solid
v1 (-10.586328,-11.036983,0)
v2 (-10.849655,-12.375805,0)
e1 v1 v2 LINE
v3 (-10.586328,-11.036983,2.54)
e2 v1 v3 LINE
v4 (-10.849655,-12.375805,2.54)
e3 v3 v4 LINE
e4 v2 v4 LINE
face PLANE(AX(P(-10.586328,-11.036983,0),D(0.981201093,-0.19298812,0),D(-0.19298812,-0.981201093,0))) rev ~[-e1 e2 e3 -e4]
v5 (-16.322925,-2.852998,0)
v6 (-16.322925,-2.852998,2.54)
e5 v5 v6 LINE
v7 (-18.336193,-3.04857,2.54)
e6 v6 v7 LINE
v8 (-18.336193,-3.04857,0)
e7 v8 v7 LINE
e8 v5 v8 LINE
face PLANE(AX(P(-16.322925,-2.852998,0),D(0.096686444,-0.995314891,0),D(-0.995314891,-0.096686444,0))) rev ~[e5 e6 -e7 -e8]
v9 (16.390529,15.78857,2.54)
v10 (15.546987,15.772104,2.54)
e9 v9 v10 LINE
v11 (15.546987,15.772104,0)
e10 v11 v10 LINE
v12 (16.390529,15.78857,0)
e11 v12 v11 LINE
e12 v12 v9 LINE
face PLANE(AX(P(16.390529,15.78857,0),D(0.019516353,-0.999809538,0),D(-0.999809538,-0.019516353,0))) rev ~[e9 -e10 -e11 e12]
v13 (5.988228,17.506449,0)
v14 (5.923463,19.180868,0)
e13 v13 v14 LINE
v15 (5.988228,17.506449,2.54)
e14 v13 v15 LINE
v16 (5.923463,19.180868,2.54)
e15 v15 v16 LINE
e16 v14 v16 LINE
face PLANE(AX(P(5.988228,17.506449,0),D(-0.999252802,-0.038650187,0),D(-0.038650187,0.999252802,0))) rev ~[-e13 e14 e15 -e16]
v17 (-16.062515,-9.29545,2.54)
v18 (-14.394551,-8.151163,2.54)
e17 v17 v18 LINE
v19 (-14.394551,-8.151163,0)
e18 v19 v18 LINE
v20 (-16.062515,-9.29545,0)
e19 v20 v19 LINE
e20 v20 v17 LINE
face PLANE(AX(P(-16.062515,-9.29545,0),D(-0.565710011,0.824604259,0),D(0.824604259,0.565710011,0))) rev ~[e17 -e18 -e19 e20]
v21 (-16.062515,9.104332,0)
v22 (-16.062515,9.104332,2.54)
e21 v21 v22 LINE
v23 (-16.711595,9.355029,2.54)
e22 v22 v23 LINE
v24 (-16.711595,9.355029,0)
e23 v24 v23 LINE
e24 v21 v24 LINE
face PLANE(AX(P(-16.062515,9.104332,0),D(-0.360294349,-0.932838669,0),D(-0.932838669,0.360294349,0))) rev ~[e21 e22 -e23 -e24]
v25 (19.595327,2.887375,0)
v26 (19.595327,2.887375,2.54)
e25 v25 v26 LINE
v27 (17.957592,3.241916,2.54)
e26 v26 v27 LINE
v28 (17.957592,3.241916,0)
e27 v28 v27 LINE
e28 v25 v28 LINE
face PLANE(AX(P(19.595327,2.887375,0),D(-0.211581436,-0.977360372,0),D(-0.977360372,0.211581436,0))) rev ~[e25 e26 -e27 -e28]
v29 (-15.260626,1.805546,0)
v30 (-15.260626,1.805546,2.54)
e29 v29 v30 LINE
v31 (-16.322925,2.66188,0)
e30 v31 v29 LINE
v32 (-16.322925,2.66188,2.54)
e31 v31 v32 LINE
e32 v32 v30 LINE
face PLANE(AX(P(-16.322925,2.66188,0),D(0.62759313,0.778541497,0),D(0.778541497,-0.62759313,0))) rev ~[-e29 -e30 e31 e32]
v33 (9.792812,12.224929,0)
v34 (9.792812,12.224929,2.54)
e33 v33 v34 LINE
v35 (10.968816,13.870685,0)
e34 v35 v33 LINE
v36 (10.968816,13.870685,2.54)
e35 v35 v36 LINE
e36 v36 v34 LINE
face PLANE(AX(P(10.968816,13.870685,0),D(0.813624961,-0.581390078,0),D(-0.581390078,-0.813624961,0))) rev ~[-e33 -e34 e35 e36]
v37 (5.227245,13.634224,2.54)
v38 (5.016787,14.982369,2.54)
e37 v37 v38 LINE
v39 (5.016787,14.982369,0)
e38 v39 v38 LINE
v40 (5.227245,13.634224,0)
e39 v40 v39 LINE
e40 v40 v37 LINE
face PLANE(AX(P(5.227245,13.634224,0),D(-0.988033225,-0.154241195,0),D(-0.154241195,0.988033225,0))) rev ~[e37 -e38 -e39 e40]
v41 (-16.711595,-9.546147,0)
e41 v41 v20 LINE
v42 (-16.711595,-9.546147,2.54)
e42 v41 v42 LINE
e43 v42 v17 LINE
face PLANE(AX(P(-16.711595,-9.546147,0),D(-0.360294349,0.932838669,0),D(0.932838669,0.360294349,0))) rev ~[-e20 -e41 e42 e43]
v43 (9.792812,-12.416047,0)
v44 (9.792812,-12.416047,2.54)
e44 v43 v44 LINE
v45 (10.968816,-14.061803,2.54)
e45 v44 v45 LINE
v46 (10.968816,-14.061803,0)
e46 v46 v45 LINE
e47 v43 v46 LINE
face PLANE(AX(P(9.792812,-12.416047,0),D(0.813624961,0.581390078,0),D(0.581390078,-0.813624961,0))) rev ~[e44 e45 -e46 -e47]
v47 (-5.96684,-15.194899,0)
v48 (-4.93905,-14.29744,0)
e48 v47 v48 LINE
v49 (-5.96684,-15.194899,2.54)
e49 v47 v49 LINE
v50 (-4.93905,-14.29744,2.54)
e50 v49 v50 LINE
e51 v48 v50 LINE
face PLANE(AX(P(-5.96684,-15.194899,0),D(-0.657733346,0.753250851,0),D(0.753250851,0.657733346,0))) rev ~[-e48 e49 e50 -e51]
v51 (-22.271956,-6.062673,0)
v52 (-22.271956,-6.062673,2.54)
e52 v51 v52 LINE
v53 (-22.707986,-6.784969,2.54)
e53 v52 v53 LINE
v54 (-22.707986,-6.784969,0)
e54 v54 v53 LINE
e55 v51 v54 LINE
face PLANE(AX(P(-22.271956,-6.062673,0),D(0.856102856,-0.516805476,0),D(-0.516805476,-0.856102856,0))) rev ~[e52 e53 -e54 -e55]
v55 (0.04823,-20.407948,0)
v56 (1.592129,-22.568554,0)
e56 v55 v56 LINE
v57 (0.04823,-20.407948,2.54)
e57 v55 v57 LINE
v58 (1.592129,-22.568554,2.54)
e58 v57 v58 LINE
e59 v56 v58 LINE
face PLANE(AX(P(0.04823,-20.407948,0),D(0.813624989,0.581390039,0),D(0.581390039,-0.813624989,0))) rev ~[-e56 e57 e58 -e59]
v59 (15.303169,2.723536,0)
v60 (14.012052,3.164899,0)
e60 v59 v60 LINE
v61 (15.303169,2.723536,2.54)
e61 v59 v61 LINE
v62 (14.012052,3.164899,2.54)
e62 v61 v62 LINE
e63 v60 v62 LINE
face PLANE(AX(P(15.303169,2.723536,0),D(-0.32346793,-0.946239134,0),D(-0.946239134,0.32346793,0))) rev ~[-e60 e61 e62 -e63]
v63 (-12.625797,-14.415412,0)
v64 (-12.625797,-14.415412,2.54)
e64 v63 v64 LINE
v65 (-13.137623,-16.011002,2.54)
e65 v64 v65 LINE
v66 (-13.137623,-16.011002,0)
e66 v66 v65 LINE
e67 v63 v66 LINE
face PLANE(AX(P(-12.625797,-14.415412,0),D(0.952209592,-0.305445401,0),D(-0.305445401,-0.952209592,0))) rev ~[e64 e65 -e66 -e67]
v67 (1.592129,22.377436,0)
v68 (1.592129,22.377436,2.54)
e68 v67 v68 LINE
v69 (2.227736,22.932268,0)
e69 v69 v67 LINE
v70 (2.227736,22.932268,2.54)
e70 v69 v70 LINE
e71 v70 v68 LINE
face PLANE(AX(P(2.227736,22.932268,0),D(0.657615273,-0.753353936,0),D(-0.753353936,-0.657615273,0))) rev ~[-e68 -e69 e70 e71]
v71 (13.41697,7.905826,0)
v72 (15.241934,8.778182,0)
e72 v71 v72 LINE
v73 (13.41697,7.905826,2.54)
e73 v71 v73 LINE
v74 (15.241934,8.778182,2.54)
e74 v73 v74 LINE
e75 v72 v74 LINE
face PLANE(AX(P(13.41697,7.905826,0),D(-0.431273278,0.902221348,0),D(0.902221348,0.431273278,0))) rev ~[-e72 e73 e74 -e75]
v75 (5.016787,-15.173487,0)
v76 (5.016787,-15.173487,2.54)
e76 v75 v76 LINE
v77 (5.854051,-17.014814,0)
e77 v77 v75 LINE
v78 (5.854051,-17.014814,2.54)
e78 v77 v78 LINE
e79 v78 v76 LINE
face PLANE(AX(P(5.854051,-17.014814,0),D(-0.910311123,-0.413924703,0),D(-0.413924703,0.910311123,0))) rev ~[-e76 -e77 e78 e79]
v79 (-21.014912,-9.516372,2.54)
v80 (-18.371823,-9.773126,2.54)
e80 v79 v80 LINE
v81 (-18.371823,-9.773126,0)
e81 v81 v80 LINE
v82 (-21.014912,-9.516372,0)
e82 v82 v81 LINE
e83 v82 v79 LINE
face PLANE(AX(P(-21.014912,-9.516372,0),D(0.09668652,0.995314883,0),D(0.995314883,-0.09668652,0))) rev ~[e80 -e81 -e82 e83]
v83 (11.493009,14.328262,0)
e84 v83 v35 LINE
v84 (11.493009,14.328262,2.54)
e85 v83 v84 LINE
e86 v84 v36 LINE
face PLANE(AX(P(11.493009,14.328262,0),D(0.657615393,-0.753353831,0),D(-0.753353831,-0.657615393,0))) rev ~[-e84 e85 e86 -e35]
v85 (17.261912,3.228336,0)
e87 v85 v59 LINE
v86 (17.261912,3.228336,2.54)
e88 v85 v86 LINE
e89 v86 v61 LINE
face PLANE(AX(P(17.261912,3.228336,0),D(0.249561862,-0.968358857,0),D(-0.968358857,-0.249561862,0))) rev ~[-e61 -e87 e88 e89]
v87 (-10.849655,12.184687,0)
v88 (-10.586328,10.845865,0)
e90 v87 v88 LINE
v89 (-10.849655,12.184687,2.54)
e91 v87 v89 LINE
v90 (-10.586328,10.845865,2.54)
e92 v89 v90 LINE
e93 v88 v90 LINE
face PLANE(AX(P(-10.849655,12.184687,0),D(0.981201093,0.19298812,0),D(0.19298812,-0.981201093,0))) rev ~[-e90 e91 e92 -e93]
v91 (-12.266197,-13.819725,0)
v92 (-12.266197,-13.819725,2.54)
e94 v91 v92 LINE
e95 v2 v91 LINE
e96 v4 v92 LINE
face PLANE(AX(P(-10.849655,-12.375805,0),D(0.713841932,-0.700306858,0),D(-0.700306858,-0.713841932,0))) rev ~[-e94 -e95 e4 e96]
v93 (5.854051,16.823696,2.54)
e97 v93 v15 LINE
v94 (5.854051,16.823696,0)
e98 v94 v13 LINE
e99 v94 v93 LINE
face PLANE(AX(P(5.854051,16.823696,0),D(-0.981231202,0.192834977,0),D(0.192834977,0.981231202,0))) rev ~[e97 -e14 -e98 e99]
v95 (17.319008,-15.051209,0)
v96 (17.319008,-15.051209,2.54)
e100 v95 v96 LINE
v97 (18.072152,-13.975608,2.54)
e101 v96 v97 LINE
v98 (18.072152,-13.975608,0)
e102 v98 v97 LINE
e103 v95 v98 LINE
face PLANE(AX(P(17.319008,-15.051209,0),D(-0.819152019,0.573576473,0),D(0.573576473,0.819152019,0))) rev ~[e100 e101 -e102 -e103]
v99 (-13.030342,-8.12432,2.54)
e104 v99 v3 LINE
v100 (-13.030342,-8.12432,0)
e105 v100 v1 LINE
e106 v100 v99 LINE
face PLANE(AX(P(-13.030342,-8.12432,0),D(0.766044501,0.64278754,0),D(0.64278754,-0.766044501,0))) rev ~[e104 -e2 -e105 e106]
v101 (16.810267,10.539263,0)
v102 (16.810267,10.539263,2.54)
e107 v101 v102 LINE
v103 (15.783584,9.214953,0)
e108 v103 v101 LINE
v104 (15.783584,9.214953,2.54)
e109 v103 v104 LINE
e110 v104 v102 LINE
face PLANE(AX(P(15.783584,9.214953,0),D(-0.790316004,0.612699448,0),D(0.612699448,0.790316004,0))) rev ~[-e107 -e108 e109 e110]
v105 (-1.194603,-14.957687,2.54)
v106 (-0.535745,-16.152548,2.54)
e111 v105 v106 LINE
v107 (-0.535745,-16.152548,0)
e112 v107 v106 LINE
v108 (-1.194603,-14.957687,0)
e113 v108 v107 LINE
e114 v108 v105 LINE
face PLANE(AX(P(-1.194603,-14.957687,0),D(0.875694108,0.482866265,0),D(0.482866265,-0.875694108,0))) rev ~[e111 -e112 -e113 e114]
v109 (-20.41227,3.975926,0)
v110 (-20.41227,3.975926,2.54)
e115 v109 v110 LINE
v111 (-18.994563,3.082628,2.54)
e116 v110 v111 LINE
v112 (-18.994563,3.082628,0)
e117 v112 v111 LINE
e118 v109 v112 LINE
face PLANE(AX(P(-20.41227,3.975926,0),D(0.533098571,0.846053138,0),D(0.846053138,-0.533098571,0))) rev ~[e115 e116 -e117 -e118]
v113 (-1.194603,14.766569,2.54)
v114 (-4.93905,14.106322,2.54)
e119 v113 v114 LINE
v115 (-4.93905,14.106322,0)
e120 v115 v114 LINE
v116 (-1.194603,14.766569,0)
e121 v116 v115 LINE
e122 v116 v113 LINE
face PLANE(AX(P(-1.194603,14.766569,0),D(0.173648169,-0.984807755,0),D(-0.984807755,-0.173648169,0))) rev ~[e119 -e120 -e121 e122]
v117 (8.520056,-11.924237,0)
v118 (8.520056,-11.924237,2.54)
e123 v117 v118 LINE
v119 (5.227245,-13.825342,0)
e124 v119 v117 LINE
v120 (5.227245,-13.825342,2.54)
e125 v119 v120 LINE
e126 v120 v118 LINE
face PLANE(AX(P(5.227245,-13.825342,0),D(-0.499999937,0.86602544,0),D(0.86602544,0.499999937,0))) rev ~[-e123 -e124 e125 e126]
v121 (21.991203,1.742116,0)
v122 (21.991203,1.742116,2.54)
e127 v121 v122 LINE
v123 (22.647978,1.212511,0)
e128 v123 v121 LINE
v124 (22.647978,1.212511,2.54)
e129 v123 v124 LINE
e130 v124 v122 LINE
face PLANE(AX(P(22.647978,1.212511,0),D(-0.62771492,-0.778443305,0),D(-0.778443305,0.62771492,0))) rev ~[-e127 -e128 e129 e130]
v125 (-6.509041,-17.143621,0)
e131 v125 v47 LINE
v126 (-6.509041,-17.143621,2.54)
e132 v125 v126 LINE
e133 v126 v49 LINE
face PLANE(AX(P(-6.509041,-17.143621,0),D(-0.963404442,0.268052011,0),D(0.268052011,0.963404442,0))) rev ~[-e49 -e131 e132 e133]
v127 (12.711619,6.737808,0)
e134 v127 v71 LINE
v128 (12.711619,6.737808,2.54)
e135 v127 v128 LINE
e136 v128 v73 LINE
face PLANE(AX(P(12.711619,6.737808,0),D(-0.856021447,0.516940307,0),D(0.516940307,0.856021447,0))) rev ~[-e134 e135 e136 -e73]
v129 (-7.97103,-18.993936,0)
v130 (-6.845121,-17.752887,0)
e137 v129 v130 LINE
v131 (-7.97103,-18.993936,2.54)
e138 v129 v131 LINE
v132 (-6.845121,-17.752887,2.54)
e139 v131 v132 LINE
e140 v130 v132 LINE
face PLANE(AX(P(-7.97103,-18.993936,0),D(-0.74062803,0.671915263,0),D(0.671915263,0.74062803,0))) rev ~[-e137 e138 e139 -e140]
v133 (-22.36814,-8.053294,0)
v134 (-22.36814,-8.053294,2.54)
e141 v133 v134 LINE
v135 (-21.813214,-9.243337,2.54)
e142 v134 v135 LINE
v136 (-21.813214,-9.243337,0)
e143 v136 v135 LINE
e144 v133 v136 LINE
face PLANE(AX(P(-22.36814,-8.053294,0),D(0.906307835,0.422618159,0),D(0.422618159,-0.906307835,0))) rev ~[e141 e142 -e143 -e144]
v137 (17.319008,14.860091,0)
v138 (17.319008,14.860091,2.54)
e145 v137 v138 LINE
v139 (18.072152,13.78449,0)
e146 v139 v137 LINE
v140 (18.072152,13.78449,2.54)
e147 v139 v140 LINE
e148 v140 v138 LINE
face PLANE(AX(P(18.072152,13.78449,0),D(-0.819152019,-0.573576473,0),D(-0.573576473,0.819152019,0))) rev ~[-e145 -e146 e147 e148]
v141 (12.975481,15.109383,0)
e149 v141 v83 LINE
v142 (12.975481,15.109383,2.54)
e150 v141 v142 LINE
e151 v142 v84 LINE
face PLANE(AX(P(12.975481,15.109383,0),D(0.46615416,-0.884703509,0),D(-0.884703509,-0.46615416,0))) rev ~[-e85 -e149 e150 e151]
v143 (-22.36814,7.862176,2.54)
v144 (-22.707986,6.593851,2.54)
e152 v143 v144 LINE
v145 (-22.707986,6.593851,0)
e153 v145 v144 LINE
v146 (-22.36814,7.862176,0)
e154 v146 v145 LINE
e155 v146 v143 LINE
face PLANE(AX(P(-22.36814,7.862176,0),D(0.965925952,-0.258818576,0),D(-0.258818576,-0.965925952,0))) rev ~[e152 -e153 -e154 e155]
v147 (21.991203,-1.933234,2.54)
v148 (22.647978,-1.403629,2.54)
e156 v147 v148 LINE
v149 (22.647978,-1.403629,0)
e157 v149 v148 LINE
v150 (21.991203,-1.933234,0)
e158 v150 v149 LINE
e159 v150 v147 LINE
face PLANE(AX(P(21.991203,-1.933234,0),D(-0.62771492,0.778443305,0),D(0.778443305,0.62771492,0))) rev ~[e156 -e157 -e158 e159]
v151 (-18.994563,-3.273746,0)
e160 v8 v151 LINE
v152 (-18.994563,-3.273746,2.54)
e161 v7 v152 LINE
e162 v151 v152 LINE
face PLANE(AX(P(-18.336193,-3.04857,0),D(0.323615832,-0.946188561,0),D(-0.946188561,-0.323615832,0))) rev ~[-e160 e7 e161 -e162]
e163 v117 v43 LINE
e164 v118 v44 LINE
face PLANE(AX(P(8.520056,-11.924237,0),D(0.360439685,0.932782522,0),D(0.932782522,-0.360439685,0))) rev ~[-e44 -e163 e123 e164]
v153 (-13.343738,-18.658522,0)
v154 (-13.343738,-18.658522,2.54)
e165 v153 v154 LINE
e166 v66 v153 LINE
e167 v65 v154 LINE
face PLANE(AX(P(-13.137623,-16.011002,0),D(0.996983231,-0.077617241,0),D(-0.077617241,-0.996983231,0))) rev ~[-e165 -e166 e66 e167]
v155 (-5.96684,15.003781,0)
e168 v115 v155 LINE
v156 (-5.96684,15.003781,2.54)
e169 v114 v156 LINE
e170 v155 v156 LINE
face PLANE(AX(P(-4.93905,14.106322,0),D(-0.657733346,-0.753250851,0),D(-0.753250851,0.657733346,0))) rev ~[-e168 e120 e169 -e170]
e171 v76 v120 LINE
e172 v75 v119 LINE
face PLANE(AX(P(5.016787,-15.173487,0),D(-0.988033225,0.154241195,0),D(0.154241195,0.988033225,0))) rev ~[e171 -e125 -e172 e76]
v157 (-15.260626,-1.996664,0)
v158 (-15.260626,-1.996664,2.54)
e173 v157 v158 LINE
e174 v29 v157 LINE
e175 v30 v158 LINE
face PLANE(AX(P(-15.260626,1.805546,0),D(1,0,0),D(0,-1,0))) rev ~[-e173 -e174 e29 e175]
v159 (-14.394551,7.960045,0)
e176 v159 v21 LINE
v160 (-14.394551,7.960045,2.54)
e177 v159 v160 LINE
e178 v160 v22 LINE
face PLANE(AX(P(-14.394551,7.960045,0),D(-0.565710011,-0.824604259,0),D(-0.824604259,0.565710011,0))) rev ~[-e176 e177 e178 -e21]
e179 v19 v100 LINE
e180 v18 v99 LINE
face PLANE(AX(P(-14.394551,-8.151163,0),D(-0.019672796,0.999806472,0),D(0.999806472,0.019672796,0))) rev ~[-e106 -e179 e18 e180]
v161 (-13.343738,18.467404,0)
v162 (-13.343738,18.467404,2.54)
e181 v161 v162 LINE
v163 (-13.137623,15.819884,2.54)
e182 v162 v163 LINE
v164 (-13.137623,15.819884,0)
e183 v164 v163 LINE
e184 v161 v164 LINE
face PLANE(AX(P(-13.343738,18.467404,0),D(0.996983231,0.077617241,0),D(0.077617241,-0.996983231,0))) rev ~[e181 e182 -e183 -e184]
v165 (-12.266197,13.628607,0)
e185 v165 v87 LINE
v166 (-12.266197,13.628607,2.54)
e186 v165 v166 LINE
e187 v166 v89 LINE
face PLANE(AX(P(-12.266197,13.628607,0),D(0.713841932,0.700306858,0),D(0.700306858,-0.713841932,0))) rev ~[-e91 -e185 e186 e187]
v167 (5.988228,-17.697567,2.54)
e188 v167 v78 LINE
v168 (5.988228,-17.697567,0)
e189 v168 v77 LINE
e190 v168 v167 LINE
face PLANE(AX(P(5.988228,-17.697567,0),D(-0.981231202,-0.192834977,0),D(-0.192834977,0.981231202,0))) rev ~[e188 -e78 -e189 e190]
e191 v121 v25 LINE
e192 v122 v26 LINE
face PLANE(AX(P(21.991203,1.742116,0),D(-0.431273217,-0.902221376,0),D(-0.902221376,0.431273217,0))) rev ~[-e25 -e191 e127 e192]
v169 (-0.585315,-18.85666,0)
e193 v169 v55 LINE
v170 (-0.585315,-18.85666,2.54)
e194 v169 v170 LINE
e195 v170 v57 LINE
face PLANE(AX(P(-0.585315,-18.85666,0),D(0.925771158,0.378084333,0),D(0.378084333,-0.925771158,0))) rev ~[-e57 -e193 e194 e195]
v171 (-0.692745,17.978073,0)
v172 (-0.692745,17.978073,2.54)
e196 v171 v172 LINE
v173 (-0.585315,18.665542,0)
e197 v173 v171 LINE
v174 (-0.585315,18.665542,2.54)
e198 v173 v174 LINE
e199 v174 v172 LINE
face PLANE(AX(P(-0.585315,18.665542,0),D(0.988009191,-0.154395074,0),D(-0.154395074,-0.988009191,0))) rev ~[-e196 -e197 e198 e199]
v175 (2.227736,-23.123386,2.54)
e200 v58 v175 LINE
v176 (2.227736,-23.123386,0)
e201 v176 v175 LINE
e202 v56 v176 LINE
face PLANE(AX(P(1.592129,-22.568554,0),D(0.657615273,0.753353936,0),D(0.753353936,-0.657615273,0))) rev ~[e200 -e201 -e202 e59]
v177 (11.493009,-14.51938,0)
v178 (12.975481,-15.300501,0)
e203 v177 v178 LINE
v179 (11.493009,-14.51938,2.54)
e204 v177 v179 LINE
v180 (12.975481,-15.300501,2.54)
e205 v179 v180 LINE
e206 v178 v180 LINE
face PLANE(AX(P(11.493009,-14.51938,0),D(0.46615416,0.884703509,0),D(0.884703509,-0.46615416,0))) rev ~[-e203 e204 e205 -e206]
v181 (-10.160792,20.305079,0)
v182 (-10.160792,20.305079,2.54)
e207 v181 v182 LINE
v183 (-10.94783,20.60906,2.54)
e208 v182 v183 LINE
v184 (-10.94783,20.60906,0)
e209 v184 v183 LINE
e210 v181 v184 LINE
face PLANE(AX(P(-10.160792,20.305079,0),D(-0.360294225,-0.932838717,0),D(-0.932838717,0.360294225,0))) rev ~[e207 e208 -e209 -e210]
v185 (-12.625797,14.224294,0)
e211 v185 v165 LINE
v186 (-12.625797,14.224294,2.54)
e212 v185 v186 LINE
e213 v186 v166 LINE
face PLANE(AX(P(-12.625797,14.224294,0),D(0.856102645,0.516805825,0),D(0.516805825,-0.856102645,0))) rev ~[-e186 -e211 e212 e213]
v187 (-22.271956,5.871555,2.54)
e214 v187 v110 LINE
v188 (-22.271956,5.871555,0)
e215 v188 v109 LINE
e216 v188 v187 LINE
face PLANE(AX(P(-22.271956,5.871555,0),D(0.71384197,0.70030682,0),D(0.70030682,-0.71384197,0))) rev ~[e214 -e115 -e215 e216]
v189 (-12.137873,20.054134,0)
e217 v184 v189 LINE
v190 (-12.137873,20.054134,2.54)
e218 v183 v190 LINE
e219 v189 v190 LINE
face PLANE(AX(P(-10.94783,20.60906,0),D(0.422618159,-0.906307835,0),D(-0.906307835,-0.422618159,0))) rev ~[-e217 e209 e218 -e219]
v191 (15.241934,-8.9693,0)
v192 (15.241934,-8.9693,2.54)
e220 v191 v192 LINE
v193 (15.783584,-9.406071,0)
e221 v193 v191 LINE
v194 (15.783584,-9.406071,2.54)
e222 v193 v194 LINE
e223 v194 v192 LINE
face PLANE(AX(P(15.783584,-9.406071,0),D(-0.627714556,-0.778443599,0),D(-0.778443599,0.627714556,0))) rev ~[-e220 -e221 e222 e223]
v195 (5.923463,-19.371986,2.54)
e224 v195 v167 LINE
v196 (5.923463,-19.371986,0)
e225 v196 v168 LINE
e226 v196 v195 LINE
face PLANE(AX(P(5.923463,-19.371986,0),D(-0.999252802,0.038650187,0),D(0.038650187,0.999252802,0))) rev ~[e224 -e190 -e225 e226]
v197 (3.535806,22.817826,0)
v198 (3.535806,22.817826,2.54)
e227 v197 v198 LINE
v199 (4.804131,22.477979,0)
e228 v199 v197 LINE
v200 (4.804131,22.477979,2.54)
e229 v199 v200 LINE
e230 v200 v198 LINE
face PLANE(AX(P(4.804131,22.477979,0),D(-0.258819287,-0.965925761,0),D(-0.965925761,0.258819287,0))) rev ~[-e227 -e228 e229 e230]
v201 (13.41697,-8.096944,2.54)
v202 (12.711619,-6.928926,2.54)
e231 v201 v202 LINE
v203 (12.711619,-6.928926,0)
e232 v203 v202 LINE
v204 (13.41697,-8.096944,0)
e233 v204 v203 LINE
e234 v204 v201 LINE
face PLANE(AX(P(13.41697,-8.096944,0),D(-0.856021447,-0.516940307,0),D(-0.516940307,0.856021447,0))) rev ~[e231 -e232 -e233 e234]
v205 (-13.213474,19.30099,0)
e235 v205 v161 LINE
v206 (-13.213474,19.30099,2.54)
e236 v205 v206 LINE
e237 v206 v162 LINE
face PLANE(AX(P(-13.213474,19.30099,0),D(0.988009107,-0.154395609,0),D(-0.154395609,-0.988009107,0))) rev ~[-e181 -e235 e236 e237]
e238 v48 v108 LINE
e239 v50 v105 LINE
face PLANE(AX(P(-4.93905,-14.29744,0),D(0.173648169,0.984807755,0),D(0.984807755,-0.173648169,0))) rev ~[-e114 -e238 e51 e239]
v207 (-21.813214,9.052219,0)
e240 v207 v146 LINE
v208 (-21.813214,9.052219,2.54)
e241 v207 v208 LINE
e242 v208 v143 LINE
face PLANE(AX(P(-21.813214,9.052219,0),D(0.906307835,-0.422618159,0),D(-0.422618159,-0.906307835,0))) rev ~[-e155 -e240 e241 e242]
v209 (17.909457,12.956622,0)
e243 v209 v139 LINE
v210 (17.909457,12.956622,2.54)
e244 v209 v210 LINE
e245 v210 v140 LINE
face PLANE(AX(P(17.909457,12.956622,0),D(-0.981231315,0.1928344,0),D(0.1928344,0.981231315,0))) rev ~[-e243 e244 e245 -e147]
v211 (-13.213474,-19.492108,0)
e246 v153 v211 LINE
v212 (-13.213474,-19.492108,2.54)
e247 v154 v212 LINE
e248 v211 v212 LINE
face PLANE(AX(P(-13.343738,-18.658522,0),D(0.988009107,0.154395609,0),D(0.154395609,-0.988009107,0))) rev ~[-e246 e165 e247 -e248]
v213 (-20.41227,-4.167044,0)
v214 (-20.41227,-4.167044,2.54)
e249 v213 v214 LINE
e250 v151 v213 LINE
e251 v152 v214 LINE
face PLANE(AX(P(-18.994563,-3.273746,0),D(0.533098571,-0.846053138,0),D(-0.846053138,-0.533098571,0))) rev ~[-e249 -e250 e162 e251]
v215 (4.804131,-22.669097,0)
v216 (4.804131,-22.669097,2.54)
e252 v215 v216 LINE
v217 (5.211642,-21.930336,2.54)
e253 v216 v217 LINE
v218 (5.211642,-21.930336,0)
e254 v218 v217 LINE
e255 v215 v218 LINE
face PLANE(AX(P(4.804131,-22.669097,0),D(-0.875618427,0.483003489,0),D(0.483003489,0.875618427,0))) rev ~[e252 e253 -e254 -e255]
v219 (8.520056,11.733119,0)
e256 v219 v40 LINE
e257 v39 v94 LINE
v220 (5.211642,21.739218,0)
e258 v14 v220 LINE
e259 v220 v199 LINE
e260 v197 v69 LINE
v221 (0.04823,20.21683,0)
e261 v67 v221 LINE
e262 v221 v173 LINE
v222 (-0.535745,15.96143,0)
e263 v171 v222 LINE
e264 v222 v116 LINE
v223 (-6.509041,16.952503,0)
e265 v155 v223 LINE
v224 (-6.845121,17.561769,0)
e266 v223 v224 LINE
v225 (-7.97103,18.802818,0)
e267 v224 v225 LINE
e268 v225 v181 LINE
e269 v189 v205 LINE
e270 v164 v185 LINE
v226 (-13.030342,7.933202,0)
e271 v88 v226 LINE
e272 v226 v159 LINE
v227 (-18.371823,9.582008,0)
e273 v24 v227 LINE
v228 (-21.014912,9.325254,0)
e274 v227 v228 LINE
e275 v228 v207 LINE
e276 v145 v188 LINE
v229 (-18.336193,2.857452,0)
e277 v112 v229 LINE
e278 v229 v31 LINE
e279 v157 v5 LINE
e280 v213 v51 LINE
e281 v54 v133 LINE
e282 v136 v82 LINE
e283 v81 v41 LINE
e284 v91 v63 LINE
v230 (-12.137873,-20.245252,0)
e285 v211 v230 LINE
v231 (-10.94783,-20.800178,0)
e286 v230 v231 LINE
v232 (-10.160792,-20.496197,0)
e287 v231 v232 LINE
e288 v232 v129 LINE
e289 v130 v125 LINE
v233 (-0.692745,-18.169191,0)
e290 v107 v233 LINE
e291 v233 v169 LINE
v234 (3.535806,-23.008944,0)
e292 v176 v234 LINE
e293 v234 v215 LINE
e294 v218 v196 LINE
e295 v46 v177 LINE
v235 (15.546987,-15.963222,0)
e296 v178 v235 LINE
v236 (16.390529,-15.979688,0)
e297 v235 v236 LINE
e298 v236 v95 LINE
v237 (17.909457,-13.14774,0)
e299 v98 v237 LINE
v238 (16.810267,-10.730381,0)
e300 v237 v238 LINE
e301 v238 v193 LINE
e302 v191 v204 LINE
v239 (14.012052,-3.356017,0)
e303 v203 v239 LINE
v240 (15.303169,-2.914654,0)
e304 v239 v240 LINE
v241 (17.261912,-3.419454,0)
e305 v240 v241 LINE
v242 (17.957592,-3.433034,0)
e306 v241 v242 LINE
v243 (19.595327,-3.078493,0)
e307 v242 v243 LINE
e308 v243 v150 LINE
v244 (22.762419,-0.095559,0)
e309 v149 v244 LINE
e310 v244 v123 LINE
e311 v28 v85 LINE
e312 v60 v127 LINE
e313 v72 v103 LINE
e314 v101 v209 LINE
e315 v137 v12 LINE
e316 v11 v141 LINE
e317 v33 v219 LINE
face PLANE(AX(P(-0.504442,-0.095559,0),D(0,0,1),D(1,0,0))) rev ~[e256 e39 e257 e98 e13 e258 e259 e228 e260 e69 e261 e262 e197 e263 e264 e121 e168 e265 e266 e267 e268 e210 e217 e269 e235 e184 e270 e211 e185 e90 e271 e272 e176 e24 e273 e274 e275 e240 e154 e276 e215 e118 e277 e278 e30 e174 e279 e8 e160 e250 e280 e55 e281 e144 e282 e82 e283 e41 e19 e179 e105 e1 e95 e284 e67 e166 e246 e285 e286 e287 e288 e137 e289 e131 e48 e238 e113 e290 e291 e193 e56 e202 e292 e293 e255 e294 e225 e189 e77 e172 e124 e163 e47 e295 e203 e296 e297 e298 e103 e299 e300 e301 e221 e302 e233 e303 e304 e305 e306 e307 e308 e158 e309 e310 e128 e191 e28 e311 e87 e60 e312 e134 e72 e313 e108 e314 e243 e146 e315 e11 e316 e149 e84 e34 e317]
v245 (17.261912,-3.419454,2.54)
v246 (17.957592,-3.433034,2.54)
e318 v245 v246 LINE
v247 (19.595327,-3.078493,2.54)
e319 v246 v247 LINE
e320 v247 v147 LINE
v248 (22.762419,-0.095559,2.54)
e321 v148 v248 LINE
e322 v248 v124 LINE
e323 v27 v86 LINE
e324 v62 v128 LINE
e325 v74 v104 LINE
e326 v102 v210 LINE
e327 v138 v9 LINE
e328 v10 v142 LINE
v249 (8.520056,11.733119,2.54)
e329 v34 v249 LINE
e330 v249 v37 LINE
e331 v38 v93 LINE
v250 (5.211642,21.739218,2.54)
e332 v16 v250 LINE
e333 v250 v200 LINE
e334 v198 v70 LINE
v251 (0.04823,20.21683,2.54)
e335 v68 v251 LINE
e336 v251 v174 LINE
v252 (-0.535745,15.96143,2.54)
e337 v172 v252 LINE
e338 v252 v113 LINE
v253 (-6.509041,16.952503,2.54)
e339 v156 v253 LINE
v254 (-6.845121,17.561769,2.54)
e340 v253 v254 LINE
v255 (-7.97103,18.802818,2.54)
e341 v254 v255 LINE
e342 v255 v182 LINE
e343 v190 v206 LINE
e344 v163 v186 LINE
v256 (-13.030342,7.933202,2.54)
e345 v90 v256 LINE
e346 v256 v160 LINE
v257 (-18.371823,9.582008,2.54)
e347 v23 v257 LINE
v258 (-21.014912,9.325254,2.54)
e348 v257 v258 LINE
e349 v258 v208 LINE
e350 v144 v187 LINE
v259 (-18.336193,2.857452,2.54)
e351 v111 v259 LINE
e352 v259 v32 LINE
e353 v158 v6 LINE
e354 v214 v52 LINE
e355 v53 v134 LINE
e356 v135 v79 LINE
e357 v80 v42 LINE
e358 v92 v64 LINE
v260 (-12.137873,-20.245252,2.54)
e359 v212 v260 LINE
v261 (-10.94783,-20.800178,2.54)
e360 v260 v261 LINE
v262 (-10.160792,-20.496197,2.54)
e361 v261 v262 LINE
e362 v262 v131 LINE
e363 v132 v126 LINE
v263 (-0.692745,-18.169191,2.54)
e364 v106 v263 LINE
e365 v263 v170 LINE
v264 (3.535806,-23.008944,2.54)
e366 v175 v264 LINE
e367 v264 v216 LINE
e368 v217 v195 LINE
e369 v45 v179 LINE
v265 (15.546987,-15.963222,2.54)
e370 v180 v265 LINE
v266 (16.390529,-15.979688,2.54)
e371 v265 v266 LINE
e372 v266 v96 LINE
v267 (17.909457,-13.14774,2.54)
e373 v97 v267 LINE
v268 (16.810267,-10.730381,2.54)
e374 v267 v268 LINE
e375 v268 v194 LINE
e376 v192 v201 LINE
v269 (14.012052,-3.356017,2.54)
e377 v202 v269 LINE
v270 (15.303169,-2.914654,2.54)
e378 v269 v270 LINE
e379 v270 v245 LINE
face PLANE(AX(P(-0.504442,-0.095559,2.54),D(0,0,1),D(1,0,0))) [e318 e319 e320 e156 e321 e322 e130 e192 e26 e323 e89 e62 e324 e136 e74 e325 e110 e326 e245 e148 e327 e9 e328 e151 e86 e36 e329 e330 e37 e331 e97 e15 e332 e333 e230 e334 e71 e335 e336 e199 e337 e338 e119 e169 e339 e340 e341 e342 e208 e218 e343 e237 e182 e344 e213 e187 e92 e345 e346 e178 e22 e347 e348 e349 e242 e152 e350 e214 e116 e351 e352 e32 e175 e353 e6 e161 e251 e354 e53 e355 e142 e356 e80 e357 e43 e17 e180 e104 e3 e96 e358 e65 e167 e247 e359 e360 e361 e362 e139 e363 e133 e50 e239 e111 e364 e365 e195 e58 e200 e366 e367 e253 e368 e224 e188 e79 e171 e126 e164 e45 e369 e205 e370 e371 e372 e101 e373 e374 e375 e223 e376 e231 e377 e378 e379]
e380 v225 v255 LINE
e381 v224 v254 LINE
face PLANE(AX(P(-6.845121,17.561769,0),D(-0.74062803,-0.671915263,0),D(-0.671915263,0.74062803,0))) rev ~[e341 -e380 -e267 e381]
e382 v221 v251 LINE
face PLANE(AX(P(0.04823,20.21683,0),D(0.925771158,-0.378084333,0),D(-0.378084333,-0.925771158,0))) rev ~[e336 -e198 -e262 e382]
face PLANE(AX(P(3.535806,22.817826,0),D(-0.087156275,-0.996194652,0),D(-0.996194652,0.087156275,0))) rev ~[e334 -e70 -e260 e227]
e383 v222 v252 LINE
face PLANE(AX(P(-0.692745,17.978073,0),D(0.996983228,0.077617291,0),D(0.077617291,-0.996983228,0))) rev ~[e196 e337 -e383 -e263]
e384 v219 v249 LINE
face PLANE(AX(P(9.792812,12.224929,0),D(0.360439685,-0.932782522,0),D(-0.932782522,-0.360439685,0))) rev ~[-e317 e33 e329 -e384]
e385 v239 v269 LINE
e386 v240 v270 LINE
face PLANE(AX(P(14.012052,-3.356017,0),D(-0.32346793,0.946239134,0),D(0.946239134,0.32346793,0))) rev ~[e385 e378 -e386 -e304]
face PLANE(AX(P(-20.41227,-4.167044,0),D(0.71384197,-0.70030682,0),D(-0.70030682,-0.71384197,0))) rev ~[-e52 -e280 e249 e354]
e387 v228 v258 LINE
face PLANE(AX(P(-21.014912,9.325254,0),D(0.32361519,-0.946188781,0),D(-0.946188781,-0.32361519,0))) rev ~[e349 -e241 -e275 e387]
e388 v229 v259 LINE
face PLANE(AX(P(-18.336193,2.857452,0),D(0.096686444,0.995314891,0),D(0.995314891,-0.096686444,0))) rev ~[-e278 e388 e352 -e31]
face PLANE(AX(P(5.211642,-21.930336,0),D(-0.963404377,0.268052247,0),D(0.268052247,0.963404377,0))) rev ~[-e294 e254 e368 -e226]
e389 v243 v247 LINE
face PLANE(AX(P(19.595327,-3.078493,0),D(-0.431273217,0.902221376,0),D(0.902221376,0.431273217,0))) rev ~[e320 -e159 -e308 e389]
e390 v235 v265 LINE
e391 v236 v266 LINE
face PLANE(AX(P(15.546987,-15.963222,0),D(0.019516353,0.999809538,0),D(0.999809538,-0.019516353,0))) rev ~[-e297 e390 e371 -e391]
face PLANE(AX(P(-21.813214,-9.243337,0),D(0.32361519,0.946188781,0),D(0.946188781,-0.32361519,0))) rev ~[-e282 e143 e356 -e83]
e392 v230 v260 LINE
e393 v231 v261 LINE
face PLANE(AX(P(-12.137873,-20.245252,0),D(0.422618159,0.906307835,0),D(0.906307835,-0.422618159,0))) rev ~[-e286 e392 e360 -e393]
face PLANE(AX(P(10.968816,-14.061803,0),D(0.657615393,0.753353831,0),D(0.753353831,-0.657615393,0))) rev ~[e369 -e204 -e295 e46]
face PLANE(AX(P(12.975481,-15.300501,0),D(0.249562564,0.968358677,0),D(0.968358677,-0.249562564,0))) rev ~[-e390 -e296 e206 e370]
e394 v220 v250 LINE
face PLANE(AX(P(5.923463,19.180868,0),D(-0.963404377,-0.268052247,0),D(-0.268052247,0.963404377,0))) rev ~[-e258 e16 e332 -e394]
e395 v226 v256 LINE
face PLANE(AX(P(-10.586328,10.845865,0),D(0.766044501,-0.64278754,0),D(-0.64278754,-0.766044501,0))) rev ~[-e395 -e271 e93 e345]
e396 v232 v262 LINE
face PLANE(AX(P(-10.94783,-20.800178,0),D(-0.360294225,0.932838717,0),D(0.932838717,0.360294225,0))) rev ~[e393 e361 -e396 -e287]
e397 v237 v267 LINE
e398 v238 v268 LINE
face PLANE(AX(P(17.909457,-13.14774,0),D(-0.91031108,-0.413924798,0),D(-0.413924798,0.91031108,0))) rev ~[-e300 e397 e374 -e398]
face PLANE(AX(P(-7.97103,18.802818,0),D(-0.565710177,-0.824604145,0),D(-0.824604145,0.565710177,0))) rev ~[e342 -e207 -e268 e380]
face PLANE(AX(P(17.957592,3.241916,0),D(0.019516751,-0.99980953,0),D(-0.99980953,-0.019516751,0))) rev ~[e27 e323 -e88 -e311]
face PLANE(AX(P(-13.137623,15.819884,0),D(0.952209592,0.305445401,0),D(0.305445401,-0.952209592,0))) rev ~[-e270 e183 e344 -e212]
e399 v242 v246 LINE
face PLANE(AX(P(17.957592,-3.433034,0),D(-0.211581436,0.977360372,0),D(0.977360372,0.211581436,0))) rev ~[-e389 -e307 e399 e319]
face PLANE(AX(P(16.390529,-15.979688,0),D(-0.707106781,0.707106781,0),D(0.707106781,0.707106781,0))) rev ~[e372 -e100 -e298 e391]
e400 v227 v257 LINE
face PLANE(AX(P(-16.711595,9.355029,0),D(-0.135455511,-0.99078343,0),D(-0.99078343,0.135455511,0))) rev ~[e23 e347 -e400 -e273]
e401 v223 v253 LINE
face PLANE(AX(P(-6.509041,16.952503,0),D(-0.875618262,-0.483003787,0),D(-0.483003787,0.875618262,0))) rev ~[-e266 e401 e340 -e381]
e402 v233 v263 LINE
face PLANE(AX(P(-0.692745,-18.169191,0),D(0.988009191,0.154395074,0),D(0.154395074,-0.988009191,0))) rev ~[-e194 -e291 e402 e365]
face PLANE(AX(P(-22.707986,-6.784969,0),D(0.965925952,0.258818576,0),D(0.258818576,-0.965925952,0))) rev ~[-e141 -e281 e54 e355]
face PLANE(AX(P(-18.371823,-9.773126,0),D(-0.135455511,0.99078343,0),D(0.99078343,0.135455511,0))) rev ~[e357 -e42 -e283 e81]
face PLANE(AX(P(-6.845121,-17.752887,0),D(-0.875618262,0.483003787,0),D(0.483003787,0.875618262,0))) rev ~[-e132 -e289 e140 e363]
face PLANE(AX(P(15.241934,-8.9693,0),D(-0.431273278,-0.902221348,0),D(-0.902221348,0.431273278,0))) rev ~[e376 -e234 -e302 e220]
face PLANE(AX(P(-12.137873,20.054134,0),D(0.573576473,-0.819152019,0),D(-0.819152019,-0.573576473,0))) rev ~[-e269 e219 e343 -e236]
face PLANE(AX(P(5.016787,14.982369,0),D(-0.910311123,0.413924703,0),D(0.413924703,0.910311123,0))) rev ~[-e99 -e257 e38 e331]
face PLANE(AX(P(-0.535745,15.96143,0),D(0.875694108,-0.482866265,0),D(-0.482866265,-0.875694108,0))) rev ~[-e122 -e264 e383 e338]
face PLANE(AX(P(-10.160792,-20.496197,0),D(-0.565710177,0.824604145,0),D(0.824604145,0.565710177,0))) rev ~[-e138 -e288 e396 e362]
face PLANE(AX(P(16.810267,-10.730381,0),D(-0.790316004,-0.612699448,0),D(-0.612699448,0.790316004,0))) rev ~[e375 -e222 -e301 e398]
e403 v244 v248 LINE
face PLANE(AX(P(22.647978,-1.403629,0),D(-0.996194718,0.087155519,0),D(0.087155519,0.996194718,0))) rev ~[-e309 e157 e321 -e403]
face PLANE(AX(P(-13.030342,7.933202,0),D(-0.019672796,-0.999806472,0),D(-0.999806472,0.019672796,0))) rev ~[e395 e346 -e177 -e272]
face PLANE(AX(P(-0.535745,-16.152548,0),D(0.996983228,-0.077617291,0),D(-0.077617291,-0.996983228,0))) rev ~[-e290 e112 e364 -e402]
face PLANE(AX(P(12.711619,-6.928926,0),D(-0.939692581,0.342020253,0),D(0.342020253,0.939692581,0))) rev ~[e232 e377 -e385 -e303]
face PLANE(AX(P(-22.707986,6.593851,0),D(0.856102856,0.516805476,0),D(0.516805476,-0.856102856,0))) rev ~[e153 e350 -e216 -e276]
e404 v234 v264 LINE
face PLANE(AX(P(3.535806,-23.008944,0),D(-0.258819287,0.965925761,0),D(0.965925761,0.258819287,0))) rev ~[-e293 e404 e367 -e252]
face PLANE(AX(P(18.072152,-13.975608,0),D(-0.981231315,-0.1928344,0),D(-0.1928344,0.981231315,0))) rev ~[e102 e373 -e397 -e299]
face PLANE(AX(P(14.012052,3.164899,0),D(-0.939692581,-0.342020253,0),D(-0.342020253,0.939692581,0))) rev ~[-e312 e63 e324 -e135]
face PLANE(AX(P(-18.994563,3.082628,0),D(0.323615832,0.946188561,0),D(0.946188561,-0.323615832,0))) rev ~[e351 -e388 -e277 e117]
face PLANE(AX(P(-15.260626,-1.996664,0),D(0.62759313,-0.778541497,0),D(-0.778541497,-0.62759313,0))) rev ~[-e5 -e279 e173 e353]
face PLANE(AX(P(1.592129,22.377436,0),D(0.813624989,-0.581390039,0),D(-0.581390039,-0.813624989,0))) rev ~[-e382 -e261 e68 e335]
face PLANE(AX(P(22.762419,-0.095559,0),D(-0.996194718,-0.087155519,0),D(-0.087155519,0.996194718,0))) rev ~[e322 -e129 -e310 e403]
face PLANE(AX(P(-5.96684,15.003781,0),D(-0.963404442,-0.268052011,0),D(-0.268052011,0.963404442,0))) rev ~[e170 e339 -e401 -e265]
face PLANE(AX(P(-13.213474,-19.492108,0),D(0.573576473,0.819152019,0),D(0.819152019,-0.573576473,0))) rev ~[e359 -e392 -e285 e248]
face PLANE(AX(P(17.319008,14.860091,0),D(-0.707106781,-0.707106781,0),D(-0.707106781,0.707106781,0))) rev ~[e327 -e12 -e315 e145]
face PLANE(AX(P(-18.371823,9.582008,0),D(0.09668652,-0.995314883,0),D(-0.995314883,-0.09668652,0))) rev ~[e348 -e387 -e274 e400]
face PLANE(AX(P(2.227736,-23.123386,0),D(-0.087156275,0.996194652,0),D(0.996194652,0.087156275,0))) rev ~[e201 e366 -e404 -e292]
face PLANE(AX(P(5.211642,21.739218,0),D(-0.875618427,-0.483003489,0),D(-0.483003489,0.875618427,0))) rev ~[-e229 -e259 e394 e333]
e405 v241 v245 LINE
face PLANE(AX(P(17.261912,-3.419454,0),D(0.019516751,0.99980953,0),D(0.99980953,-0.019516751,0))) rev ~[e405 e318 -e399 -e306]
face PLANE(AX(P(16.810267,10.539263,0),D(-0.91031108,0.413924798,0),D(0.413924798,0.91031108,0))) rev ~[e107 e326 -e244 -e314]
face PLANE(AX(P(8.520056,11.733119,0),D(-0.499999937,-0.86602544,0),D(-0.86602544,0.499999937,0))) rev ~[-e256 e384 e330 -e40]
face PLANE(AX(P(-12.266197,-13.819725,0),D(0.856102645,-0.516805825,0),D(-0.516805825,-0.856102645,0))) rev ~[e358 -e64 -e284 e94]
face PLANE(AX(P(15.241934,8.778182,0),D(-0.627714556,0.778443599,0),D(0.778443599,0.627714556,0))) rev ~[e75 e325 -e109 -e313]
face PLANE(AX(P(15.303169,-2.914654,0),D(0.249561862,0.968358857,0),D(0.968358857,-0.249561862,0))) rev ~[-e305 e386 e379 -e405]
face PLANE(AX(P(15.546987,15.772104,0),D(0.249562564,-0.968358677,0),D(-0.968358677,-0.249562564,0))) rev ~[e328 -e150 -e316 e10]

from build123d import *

# Parameters (mm, degrees)
F1_DEPTH = 2.54


with BuildPart() as f1:
    # F0 (on Top) → F1 (new body)
    with BuildSketch(Plane.XY):
        Polygon((15.546987, -15.963222), (16.390529, -15.979688), (17.319008, -15.051209), (18.072152, -13.975608), (17.909457, -13.14774), (16.810267, -10.730381), (15.783584, -9.406071), (15.241934, -8.9693), (13.41697, -8.096944), (12.711619, -6.928926), (14.012052, -3.356017), (15.303169, -2.914654), (17.261912, -3.419454), (17.957592, -3.433034), (19.595327, -3.078493), (21.991203, -1.933234), (22.647978, -1.403629), (22.762419, -0.095559), (22.647978, 1.212511), (21.991203, 1.742116), (19.595327, 2.887375), (17.957592, 3.241916), (17.261912, 3.228336), (15.303169, 2.723536), (14.012052, 3.164899), (12.711619, 6.737808), (13.41697, 7.905826), (15.241934, 8.778182), (15.783584, 9.214953), (16.810267, 10.539263), (17.909457, 12.956622), (18.072152, 13.78449), (17.319008, 14.860091), (16.390529, 15.78857), (15.546987, 15.772104), (12.975481, 15.109383), (11.493009, 14.328262), (10.968816, 13.870685), (9.792812, 12.224929), (8.520056, 11.733119), (5.227245, 13.634224), (5.016787, 14.982369), (5.854051, 16.823696), (5.988228, 17.506449), (5.923463, 19.180868), (5.211642, 21.739218), (4.804131, 22.477979), (3.535806, 22.817826), (2.227736, 22.932268), (1.592129, 22.377436), (0.04823, 20.21683), (-0.585315, 18.665542), (-0.692745, 17.978073), (-0.535745, 15.96143), (-1.194603, 14.766569), (-4.93905, 14.106322), (-5.96684, 15.003781), (-6.509041, 16.952503), (-6.845121, 17.561769), (-7.97103, 18.802818), (-10.160792, 20.305079), (-10.94783, 20.60906), (-12.137873, 20.054134), (-13.213474, 19.30099), (-13.343738, 18.467404), (-13.137623, 15.819884), (-12.625797, 14.224294), (-12.266197, 13.628607), (-10.849655, 12.184687), (-10.586328, 10.845865), (-13.030342, 7.933202), (-14.394551, 7.960045), (-16.062515, 9.104332), (-16.711595, 9.355029), (-18.371823, 9.582008), (-21.014912, 9.325254), (-21.813214, 9.052219), (-22.36814, 7.862176), (-22.707986, 6.593851), (-22.271956, 5.871555), (-20.41227, 3.975926), (-18.994563, 3.082628), (-18.336193, 2.857452), (-16.322925, 2.66188), (-15.260626, 1.805546), (-15.260626, -1.996664), (-16.322925, -2.852998), (-18.336193, -3.04857), (-18.994563, -3.273746), (-20.41227, -4.167044), (-22.271956, -6.062673), (-22.707986, -6.784969), (-22.36814, -8.053294), (-21.813214, -9.243337), (-21.014912, -9.516372), (-18.371823, -9.773126), (-16.711595, -9.546147), (-16.062515, -9.29545), (-14.394551, -8.151163), (-13.030342, -8.12432), (-10.586328, -11.036983), (-10.849655, -12.375805), (-12.266197, -13.819725), (-12.625797, -14.415412), (-13.137623, -16.011002), (-13.343738, -18.658522), (-13.213474, -19.492108), (-12.137873, -20.245252), (-10.94783, -20.800178), (-10.160792, -20.496197), (-7.97103, -18.993936), (-6.845121, -17.752887), (-6.509041, -17.143621), (-5.96684, -15.194899), (-4.93905, -14.29744), (-1.194603, -14.957687), (-0.535745, -16.152548), (-0.692745, -18.169191), (-0.585315, -18.85666), (0.04823, -20.407948), (1.592129, -22.568554), (2.227736, -23.123386), (3.535806, -23.008944), (4.804131, -22.669097), (5.211642, -21.930336), (5.923463, -19.371986), (5.988228, -17.697567), (5.854051, -17.014814), (5.016787, -15.173487), (5.227245, -13.825342), (8.520056, -11.924237), (9.792812, -12.416047), (10.968816, -14.061803), (11.493009, -14.51938), (12.975481, -15.300501), align=None)
    extrude(amount=F1_DEPTH)


solid = f1.part
